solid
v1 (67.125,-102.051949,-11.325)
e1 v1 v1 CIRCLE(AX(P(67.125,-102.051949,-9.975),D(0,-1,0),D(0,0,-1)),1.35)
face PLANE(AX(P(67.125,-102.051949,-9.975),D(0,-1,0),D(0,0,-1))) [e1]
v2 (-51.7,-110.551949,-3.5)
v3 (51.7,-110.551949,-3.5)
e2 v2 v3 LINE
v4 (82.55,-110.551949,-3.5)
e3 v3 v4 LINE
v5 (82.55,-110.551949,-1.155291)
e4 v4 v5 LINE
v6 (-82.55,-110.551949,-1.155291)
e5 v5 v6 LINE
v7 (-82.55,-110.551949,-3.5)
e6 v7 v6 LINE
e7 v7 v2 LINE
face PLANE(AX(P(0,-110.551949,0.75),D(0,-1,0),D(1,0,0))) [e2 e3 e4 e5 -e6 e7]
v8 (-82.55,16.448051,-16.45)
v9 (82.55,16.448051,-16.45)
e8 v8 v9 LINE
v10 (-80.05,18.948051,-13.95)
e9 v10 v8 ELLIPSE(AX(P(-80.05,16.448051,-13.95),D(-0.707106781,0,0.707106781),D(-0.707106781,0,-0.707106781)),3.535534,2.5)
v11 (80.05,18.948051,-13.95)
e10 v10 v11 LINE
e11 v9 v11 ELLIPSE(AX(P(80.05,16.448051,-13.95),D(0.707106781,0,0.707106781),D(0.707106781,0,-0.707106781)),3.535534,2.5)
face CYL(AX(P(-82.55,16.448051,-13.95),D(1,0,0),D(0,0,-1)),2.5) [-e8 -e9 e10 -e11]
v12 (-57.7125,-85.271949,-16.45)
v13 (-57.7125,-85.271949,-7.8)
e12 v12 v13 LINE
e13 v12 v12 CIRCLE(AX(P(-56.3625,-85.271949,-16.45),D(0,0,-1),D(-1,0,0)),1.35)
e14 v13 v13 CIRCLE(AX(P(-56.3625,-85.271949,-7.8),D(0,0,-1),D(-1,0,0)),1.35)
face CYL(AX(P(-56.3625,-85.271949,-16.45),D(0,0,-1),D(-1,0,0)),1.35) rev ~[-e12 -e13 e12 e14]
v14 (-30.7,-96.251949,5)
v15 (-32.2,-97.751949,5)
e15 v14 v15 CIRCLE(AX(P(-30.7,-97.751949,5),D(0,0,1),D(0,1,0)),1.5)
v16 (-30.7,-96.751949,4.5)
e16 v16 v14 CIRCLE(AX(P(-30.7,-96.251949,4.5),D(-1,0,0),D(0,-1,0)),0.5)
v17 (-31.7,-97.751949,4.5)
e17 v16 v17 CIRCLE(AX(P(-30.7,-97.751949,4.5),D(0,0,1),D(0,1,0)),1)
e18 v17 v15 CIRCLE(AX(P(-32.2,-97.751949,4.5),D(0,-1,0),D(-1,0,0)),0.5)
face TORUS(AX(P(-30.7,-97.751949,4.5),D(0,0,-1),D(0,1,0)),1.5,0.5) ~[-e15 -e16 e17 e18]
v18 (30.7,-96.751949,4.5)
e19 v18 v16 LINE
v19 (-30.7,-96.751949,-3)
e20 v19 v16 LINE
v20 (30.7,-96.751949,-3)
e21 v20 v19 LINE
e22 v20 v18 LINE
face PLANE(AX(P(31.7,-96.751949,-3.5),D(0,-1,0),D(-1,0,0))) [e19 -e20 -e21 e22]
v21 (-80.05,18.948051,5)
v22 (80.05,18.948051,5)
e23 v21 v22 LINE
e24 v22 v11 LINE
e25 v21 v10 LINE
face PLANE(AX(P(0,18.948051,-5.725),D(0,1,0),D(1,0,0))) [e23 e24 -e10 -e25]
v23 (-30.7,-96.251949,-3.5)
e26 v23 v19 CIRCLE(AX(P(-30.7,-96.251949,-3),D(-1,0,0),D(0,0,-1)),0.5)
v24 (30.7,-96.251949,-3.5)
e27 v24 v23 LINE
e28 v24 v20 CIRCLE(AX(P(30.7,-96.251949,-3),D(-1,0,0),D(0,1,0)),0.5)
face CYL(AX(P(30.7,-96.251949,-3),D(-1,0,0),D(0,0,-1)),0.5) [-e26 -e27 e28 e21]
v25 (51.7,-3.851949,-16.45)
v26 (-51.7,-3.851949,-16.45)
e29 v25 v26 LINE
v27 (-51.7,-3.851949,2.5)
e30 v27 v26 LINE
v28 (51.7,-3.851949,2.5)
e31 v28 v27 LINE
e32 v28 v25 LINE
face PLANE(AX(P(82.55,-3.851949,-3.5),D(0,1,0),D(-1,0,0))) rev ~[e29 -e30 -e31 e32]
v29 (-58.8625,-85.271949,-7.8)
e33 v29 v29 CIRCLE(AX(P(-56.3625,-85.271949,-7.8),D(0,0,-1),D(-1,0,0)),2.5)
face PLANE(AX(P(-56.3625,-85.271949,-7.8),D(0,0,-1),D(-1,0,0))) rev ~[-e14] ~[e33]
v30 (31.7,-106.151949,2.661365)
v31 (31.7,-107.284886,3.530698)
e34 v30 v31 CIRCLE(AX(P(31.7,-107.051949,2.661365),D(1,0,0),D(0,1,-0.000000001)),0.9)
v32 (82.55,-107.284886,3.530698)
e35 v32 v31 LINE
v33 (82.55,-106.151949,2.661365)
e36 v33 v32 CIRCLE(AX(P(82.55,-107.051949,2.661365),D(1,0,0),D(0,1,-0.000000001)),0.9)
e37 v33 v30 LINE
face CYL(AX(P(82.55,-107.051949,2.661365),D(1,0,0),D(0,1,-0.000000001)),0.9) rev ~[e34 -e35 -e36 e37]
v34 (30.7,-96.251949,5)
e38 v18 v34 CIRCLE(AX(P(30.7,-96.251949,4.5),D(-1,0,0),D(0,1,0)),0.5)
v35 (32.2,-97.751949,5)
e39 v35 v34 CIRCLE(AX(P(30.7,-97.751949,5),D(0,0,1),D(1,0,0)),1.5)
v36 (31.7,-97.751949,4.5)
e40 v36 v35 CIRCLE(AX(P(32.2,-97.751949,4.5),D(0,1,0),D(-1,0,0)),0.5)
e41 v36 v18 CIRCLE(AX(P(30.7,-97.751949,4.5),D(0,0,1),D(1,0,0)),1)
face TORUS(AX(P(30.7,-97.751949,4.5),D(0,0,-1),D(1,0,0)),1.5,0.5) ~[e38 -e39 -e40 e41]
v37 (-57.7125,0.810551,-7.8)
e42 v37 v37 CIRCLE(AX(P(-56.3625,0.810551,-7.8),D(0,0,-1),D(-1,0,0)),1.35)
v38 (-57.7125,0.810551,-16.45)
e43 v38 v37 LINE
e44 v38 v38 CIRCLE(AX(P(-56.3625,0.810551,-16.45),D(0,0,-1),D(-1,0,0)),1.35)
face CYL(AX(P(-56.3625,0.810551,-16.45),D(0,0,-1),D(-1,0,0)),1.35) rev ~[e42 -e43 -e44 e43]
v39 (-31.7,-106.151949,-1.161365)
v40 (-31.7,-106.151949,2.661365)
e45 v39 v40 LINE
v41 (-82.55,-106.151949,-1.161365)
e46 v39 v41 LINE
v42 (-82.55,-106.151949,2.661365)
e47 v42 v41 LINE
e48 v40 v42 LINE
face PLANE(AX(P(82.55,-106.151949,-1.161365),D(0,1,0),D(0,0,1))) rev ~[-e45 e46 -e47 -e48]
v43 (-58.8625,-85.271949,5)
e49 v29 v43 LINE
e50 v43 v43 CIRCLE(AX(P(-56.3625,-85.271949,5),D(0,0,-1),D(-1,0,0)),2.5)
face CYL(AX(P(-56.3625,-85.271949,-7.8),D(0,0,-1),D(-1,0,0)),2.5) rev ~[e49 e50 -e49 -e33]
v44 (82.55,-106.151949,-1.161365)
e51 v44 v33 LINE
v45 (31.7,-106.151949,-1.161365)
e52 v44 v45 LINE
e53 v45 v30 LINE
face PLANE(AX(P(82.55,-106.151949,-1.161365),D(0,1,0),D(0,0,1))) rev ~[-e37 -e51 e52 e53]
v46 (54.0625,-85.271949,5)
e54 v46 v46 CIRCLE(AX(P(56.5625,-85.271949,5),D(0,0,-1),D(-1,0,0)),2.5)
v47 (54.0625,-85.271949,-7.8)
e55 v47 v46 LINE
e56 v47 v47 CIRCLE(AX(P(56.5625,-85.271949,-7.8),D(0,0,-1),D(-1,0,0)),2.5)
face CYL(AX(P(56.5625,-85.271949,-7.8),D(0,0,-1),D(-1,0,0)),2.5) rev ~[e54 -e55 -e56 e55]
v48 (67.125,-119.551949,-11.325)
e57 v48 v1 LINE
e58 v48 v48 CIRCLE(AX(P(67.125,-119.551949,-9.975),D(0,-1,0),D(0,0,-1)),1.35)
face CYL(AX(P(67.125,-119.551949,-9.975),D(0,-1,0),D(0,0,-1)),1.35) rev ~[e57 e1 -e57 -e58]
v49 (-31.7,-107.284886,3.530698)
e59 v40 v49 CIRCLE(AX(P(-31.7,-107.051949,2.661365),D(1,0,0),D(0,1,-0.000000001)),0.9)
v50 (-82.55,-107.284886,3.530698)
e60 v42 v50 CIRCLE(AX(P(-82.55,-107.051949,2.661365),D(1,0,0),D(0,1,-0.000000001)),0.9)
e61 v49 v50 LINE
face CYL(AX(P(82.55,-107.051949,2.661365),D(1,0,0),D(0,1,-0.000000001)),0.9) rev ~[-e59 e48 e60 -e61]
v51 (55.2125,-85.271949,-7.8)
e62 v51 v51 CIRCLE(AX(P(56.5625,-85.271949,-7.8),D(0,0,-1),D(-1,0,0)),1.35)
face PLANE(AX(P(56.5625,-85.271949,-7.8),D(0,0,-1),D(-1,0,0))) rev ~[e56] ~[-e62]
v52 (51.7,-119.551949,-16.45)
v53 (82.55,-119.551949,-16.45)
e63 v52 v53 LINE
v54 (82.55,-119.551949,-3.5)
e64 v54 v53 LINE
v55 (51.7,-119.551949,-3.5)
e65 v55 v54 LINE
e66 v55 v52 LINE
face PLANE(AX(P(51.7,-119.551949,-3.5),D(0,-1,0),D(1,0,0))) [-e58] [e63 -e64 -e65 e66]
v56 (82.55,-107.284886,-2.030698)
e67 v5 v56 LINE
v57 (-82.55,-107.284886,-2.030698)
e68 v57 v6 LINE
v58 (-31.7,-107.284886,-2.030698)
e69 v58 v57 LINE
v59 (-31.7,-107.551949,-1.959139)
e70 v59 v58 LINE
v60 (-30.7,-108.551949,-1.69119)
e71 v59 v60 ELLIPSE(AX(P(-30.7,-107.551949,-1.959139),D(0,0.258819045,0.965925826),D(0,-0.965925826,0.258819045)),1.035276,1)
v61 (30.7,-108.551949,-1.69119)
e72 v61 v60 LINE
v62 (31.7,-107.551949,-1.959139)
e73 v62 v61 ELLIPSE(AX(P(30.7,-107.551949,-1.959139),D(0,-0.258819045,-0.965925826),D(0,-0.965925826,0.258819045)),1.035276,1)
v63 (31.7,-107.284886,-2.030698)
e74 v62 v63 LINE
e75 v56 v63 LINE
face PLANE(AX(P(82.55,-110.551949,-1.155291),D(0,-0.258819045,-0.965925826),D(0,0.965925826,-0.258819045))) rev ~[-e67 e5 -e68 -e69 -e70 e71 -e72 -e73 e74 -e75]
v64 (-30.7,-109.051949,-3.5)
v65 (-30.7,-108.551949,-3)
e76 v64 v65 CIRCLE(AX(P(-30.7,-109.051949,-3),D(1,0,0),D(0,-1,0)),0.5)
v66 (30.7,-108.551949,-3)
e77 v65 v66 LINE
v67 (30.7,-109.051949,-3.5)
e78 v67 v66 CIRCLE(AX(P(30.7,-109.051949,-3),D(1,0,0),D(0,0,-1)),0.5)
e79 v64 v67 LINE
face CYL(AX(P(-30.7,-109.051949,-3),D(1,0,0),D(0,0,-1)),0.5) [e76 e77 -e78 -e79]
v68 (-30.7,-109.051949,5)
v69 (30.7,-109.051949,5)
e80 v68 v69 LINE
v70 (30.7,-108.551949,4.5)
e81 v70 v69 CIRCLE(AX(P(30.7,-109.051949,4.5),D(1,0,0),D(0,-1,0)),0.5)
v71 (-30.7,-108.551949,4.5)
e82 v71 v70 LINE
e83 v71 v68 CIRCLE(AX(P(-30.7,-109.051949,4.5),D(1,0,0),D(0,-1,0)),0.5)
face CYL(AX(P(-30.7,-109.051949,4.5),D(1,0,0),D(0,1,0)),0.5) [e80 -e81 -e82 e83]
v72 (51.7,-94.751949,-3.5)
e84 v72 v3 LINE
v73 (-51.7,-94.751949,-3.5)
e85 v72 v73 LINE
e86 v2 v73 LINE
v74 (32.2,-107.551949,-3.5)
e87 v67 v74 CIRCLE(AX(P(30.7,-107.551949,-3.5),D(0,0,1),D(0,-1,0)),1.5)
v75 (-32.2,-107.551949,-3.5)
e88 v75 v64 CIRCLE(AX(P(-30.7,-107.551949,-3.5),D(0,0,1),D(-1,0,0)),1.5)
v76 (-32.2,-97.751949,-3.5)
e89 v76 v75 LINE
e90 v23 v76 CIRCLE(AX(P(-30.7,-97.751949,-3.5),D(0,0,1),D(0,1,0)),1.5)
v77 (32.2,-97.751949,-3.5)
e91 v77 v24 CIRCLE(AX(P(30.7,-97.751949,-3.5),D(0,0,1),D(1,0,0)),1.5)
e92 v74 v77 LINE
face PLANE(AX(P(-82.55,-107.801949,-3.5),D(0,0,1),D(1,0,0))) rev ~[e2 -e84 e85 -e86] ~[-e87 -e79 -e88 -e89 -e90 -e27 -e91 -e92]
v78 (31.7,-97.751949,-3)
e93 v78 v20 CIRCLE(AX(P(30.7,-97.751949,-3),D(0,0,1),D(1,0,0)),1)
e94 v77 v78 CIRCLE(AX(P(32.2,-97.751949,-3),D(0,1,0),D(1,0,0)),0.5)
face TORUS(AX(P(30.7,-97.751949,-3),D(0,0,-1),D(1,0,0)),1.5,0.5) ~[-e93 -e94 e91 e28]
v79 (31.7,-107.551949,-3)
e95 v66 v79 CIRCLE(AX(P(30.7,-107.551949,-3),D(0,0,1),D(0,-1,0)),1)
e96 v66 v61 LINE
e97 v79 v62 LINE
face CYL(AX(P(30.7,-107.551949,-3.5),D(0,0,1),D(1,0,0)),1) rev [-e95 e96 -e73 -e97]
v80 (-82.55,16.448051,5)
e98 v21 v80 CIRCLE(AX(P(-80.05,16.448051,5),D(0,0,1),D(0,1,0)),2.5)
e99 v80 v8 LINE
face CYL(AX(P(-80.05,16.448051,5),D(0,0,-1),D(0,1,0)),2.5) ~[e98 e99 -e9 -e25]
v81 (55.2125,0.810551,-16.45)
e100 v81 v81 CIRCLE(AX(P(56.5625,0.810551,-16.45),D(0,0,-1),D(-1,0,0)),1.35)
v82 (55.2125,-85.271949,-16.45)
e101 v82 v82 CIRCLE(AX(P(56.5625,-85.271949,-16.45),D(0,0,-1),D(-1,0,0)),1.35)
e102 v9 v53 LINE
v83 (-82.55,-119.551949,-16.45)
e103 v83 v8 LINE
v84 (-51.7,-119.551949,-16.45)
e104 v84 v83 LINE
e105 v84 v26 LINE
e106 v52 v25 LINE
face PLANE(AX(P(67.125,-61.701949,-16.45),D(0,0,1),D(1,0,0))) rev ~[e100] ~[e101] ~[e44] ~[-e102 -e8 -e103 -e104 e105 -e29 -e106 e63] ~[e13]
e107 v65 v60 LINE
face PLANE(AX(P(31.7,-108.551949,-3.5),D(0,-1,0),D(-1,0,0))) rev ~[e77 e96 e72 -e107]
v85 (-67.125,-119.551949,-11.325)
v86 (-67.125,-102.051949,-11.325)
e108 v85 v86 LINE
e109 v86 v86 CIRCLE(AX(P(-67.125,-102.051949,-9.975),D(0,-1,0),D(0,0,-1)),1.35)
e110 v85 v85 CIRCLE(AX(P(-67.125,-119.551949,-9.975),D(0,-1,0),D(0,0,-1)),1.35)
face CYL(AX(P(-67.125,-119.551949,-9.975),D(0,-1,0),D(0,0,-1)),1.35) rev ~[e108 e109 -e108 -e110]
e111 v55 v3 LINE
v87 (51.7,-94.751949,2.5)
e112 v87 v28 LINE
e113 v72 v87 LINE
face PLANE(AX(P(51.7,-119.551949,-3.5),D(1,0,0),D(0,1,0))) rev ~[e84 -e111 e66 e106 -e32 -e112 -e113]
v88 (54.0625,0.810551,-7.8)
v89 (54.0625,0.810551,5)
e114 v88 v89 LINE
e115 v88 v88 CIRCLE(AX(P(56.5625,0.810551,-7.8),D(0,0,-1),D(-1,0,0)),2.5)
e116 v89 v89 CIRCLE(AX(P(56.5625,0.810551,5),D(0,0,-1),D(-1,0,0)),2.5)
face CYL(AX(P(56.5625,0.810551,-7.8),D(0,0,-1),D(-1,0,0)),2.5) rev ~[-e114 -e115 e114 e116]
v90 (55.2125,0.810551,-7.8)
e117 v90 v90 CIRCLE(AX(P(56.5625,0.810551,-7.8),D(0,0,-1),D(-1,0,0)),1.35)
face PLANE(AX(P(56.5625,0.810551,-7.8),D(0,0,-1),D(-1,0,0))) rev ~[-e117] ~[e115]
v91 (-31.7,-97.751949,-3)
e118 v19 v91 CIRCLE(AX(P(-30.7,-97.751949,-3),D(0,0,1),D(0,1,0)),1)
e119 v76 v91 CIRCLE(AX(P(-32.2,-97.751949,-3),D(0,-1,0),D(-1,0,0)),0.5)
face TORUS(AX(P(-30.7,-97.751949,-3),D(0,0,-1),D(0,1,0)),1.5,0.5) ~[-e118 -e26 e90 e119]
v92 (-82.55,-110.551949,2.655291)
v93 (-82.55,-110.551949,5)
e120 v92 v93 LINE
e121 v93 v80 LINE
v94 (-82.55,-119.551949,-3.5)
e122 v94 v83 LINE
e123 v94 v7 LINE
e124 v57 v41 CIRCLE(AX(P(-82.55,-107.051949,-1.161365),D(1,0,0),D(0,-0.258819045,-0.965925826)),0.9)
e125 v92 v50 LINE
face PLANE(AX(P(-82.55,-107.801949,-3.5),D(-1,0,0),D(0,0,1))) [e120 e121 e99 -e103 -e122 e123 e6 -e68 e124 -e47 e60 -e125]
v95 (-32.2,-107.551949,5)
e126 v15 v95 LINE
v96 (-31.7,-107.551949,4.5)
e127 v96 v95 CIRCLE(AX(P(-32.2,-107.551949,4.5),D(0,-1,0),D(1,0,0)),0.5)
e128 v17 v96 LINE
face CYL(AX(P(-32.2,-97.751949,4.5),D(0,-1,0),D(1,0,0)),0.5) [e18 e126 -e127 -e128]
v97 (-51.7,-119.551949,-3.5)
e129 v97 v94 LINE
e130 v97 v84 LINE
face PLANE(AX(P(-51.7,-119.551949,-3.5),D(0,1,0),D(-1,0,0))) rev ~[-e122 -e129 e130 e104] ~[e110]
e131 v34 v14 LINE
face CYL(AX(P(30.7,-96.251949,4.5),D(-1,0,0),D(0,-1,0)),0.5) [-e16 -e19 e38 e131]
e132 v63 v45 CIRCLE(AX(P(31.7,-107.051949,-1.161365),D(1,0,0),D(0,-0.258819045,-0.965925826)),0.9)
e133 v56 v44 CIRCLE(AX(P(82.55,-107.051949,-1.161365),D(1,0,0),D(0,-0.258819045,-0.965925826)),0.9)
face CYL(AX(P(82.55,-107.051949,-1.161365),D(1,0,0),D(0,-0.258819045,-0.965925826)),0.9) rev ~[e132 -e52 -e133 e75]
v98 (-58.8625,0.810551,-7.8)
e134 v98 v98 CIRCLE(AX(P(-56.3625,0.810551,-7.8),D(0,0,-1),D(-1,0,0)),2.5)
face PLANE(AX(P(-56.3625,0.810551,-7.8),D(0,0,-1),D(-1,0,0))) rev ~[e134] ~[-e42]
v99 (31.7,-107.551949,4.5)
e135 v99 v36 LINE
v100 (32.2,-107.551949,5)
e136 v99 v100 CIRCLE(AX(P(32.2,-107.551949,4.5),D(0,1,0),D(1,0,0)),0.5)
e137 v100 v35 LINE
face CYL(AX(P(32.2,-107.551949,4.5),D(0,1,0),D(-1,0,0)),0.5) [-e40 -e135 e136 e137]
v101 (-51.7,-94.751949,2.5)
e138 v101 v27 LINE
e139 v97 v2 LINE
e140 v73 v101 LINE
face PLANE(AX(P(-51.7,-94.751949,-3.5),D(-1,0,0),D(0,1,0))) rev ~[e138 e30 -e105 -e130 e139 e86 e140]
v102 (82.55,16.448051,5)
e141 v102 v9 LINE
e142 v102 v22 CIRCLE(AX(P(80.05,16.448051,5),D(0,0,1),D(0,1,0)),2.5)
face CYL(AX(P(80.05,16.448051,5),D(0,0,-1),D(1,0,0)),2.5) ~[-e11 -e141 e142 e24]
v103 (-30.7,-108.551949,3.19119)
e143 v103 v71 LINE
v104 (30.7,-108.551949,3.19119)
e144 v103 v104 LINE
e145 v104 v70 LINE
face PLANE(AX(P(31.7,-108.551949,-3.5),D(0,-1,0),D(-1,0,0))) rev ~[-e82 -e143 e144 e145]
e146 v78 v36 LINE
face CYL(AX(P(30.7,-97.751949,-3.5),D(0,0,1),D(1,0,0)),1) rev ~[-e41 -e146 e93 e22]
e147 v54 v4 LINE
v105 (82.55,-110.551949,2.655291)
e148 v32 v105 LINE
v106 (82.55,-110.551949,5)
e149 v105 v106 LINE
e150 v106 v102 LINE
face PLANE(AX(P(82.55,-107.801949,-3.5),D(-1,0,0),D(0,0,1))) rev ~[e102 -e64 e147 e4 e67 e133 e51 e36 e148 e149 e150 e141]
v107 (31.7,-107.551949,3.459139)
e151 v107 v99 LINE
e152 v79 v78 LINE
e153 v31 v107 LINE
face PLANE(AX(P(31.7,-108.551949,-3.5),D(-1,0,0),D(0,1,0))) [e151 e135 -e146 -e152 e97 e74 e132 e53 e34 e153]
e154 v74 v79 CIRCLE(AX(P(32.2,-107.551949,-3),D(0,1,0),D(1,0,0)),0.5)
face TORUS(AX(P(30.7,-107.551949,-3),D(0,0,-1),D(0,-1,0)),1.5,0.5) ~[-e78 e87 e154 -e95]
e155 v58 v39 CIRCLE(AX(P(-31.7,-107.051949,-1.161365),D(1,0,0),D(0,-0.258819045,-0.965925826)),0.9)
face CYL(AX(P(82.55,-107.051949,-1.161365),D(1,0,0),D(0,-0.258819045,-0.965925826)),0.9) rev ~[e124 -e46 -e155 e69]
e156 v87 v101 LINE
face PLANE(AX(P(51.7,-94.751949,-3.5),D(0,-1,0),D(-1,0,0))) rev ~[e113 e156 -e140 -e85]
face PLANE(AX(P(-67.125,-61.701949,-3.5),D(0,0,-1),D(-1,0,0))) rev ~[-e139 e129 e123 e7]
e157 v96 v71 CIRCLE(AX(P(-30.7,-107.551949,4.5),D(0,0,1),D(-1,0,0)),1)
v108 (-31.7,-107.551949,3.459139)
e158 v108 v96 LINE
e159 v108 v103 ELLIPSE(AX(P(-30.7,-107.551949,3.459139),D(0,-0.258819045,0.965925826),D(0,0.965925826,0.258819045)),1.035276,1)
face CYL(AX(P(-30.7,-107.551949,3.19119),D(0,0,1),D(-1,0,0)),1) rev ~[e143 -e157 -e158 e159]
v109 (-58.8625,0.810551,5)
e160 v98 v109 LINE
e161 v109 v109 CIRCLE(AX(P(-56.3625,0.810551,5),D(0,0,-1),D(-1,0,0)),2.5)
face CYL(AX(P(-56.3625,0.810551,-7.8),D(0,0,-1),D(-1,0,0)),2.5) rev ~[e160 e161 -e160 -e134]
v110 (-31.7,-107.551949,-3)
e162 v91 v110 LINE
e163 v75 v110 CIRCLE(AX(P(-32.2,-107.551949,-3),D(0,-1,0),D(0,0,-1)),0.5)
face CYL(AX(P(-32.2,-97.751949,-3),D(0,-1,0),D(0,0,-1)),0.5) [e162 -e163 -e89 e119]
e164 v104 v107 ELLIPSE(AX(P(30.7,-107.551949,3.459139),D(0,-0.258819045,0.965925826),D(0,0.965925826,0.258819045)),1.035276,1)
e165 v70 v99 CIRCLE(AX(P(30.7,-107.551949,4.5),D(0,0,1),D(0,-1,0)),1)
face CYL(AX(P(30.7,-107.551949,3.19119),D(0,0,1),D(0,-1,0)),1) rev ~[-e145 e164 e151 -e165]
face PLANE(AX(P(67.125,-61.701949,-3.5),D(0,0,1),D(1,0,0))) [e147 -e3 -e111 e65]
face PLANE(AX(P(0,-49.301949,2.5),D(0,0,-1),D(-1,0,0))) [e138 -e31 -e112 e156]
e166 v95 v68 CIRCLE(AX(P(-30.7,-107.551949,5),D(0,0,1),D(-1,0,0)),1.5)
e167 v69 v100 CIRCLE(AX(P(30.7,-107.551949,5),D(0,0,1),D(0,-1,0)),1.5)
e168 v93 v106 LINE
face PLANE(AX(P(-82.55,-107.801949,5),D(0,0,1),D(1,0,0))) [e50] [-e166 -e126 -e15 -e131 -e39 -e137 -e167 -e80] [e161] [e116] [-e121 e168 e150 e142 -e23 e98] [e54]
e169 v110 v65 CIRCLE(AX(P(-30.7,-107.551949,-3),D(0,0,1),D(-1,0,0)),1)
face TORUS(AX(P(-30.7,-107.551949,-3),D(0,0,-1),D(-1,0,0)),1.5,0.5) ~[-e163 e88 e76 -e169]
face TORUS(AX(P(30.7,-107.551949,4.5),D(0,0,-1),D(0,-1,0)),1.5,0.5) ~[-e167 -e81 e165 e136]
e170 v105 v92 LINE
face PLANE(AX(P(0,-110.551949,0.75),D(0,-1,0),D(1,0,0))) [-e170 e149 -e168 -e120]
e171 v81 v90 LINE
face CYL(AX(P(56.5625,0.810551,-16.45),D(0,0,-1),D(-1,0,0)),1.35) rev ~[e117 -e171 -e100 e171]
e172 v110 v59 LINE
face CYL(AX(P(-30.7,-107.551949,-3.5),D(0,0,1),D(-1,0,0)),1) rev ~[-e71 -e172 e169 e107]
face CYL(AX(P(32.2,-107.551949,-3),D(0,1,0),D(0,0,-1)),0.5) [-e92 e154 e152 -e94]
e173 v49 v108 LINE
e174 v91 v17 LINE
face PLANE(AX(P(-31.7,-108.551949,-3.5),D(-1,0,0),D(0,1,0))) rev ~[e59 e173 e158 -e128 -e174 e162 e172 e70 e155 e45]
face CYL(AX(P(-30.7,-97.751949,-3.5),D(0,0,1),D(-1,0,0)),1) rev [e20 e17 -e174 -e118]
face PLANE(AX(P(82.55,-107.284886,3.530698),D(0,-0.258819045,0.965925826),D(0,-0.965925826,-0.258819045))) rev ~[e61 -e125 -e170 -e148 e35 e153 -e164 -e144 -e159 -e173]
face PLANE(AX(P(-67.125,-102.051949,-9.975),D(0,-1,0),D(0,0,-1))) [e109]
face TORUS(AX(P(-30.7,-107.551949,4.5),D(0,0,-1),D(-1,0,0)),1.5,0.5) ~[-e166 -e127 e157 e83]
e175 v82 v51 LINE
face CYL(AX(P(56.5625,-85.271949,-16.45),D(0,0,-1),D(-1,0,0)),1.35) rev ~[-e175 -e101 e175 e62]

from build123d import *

# Parameters (mm, degrees)
SKETCH1_W           = 165.1
SKETCH1_H           = 100
BOSS_EXTRUDE1_DEPTH = 5
SKETCH4_W           = 165.1
SKETCH4_H           = 100
BOSS_EXTRUDE2_DEPTH = 3.5
SKETCH10_W          = 165.1
SKETCH10_H          = 8.5
BOSS_EXTRUDE4_DEPTH = 17
SKETCH11_W          = 103.4
SKETCH11_H          = 90.9
CUT_EXTRUDE6_DEPTH  = 6
SKETCH12_W          = 165.1
SKETCH12_H          = 13.05
BOSS_EXTRUDE5_DEPTH = 12.95
SKETCH13_W          = 165.1
SKETCH13_H          = 21.45
BOSS_EXTRUDE6_DEPTH = 9.75
SKETCH14_W          = 30.85
SKETCH14_H          = 115.7
BOSS_EXTRUDE7_DEPTH = 12.95
SKETCH15_R          = 1.35
CUT_EXTRUDE7_DEPTH  = 8.65
SKETCH16_R          = 2.5
CUT_EXTRUDE8_DEPTH  = 146.84584686
FILLET1_R           = 2.5
SKETCH17_W          = 165.1
SKETCH17_H          = 8.5
BOSS_EXTRUDE9_DEPTH = 2.75
CUT_EXTRUDE9_DEPTH  = 205.50252088
SKETCH21_R          = 1.35
CUT_EXTRUDE10_DEPTH = 17.5
SKETCH22_W          = 63.4
SKETCH22_H          = 11.8
CUT_EXTRUDE11_DEPTH = 10
FILLET2_R           = 1
FILLET3_R           = 0.5


with BuildPart() as part:
    # Sketch1 → Boss-Extrude1 (new body)
    with BuildSketch(Plane.XY):
        with Locations((0, -40.801949153)):
            Rectangle(SKETCH1_W, SKETCH1_H)
    extrude(amount=BOSS_EXTRUDE1_DEPTH)

    # Sketch4 → Boss-Extrude2 (add)
    with BuildSketch(Plane(origin=(0, 0, 0), x_dir=(-1, 0, 0), z_dir=(0, 0, -1))):
        with Locations((0, -40.801949153)):
            Rectangle(SKETCH4_W, SKETCH4_H)
    extrude(amount=BOSS_EXTRUDE2_DEPTH)

    # Sketch10 → Boss-Extrude4 (add)
    with BuildSketch(Plane.XZ.offset(90.801949153)):
        with Locations((0, 0.75)):
            Rectangle(SKETCH10_W, SKETCH10_H)
    extrude(amount=BOSS_EXTRUDE4_DEPTH)

    # Sketch11 → Cut-Extrude6 (cut)
    with BuildSketch(Plane(origin=(0, 0, -3.5), x_dir=(-1, 0, 0), z_dir=(0, 0, -1))):
        with Locations((0, -49.301949153)):
            Rectangle(SKETCH11_W, SKETCH11_H)
    extrude(amount=-CUT_EXTRUDE6_DEPTH, mode=Mode.SUBTRACT)

    # Sketch12 → Boss-Extrude5 (add)
    with BuildSketch(Plane(origin=(0, 0, -3.5), x_dir=(-1, 0, 0), z_dir=(0, 0, -1))):
        with Locations((0, 2.673050847)):
            Rectangle(SKETCH12_W, SKETCH12_H)
    extrude(amount=BOSS_EXTRUDE5_DEPTH)

    # Sketch13 → Boss-Extrude6 (add)
    with BuildSketch(Plane(origin=(0, 9.198050847, 0), x_dir=(1, 0, 0), z_dir=(0, 1, 0))):
        with Locations((0, 5.725)):
            Rectangle(SKETCH13_W, SKETCH13_H)
    extrude(amount=BOSS_EXTRUDE6_DEPTH)

    # Sketch14 → Boss-Extrude7 (add)
    with BuildSketch(Plane(origin=(0, 0, -3.5), x_dir=(-1, 0, 0), z_dir=(0, 0, -1))):
        Polygon((-51.7, -106.501949153), (-51.7, -119.551949153), (-82.55, -119.551949153), (-82.55, -3.851949153), (-51.7, -3.851949153), align=None)
        with Locations((67.125, -61.701949153)):
            Rectangle(SKETCH14_W, SKETCH14_H)
    extrude(amount=BOSS_EXTRUDE7_DEPTH)

    # Sketch15 → Cut-Extrude7 (cut)
    with BuildSketch(Plane(origin=(0, 0, -16.45), x_dir=(-1, 0, 0), z_dir=(0, 0, -1))):
        with Locations((56.3625, -85.271949153)):
            Circle(SKETCH15_R)
        with Locations((56.3625, 0.810550847)):
            Circle(SKETCH15_R)
        with Locations((-56.5625, 0.810550847)):
            Circle(SKETCH15_R)
        with Locations((-56.5625, -85.271949153)):
            Circle(SKETCH15_R)
    extrude(amount=-CUT_EXTRUDE7_DEPTH, mode=Mode.SUBTRACT)

    # Sketch16 → Cut-Extrude8 (cut, through all)
    with BuildSketch(Plane(origin=(0, 0, -7.8), x_dir=(-1, 0, 0), z_dir=(0, 0, -1))):
        with Locations((56.3625, 0.810550847)):
            Circle(SKETCH16_R)
        with Locations((-56.5625, 0.810550847)):
            Circle(SKETCH16_R)
        with Locations((-56.5625, -85.271949153)):
            Circle(SKETCH16_R)
        with Locations((56.3625, -85.271949153)):
            Circle(SKETCH16_R)
    extrude(amount=-CUT_EXTRUDE8_DEPTH, mode=Mode.SUBTRACT)

    # Fillet1
    fillet1_edges = [part.edges().sort_by_distance(p)[0] for p in [
        (-82.55, 18.948050847, -5.725),
        (82.55, 18.948050847, -5.725),
        (0, 18.948050847, -16.45),
    ]]
    fillet(fillet1_edges, radius=FILLET1_R)

    # Sketch17 → Boss-Extrude9 (add)
    with BuildSketch(Plane.XZ.offset(107.801949153)):
        with Locations((0, 0.75)):
            Rectangle(SKETCH17_W, SKETCH17_H)
    extrude(amount=BOSS_EXTRUDE9_DEPTH)

    # Sketch20 → Cut-Extrude9 (cut, through all)
    with BuildSketch(Plane(origin=(82.55, 0, 0), x_dir=(0, 0, -1), z_dir=(1, 0, 0))):
        with BuildLine():
            Line((1.155291427, -110.551949153), (2.030698282, -107.284886293))
            ThreePointArc((2.030698282, -107.284886293), (1.875383044, -106.504063866), (1.161365038, -106.151949153))
            Line((1.161365038, -106.151949153), (-2.661365038, -106.151949153))
            ThreePointArc((-2.661365038, -106.151949153), (-3.375383044, -106.504063866), (-3.530698282, -107.284886293))
            Line((-3.530698282, -107.284886293), (-2.655291427, -110.551949153))
            Line((-2.655291427, -110.551949153), (1.155291427, -110.551949153))
        make_face()
    extrude(amount=-CUT_EXTRUDE9_DEPTH, mode=Mode.SUBTRACT)

    # Sketch21 → Cut-Extrude10 (cut)
    with BuildSketch(Plane.XZ.offset(119.551949153)):
        with Locations(Location((-67.125, -9.975, 0), (0, 0, 270))):
            Circle(SKETCH21_R)
        with Locations(Location((67.125, -9.975, 0), (0, 0, 270))):
            Circle(SKETCH21_R)
    extrude(amount=-CUT_EXTRUDE10_DEPTH, mode=Mode.SUBTRACT)

    # Sketch22 → Cut-Extrude11 (cut)
    with BuildSketch(Plane(origin=(0, 0, -3.5), x_dir=(-1, 0, 0), z_dir=(0, 0, -1))):
        with Locations((0, -102.651949153)):
            Rectangle(SKETCH22_W, SKETCH22_H)
    extrude(amount=-CUT_EXTRUDE11_DEPTH, mode=Mode.SUBTRACT)

    # Fillet2
    fillet2_edges = [part.edges().sort_by_distance(p)[0] for p in [
        (31.7, -96.751949153, 0.75),
        (-31.7, -108.551949153, 4.095594906),
        (-31.7, -108.551949153, -2.595594906),
        (31.7, -108.551949153, 4.095594906),
        (31.7, -108.551949153, -2.595594906),
        (-31.7, -96.751949153, 0.75),
    ]]
    fillet(fillet2_edges, radius=FILLET2_R)

    # Fillet3
    fillet3_edges = [part.edges().sort_by_distance(p)[0] for p in [
        (31.407106781, -108.259055934, 5),
        (31.7, -102.651949153, 5),
        (31.407106781, -97.044842371, 5),
        (31.407106781, -97.044842371, -3.5),
        (0, -96.751949153, 5),
        (0, -96.751949153, -3.5),
        (-31.407106781, -97.044842371, 5),
        (-31.407106781, -97.044842371, -3.5),
        (-31.7, -102.651949153, 5),
        (-31.407106781, -108.259055934, 5),
        (0, -108.551949153, 5),
        (-31.407106781, -108.259055934, -3.5),
        (31.407106781, -108.259055934, -3.5),
    ]]
    fillet(fillet3_edges, radius=FILLET3_R)


solid = part.part
